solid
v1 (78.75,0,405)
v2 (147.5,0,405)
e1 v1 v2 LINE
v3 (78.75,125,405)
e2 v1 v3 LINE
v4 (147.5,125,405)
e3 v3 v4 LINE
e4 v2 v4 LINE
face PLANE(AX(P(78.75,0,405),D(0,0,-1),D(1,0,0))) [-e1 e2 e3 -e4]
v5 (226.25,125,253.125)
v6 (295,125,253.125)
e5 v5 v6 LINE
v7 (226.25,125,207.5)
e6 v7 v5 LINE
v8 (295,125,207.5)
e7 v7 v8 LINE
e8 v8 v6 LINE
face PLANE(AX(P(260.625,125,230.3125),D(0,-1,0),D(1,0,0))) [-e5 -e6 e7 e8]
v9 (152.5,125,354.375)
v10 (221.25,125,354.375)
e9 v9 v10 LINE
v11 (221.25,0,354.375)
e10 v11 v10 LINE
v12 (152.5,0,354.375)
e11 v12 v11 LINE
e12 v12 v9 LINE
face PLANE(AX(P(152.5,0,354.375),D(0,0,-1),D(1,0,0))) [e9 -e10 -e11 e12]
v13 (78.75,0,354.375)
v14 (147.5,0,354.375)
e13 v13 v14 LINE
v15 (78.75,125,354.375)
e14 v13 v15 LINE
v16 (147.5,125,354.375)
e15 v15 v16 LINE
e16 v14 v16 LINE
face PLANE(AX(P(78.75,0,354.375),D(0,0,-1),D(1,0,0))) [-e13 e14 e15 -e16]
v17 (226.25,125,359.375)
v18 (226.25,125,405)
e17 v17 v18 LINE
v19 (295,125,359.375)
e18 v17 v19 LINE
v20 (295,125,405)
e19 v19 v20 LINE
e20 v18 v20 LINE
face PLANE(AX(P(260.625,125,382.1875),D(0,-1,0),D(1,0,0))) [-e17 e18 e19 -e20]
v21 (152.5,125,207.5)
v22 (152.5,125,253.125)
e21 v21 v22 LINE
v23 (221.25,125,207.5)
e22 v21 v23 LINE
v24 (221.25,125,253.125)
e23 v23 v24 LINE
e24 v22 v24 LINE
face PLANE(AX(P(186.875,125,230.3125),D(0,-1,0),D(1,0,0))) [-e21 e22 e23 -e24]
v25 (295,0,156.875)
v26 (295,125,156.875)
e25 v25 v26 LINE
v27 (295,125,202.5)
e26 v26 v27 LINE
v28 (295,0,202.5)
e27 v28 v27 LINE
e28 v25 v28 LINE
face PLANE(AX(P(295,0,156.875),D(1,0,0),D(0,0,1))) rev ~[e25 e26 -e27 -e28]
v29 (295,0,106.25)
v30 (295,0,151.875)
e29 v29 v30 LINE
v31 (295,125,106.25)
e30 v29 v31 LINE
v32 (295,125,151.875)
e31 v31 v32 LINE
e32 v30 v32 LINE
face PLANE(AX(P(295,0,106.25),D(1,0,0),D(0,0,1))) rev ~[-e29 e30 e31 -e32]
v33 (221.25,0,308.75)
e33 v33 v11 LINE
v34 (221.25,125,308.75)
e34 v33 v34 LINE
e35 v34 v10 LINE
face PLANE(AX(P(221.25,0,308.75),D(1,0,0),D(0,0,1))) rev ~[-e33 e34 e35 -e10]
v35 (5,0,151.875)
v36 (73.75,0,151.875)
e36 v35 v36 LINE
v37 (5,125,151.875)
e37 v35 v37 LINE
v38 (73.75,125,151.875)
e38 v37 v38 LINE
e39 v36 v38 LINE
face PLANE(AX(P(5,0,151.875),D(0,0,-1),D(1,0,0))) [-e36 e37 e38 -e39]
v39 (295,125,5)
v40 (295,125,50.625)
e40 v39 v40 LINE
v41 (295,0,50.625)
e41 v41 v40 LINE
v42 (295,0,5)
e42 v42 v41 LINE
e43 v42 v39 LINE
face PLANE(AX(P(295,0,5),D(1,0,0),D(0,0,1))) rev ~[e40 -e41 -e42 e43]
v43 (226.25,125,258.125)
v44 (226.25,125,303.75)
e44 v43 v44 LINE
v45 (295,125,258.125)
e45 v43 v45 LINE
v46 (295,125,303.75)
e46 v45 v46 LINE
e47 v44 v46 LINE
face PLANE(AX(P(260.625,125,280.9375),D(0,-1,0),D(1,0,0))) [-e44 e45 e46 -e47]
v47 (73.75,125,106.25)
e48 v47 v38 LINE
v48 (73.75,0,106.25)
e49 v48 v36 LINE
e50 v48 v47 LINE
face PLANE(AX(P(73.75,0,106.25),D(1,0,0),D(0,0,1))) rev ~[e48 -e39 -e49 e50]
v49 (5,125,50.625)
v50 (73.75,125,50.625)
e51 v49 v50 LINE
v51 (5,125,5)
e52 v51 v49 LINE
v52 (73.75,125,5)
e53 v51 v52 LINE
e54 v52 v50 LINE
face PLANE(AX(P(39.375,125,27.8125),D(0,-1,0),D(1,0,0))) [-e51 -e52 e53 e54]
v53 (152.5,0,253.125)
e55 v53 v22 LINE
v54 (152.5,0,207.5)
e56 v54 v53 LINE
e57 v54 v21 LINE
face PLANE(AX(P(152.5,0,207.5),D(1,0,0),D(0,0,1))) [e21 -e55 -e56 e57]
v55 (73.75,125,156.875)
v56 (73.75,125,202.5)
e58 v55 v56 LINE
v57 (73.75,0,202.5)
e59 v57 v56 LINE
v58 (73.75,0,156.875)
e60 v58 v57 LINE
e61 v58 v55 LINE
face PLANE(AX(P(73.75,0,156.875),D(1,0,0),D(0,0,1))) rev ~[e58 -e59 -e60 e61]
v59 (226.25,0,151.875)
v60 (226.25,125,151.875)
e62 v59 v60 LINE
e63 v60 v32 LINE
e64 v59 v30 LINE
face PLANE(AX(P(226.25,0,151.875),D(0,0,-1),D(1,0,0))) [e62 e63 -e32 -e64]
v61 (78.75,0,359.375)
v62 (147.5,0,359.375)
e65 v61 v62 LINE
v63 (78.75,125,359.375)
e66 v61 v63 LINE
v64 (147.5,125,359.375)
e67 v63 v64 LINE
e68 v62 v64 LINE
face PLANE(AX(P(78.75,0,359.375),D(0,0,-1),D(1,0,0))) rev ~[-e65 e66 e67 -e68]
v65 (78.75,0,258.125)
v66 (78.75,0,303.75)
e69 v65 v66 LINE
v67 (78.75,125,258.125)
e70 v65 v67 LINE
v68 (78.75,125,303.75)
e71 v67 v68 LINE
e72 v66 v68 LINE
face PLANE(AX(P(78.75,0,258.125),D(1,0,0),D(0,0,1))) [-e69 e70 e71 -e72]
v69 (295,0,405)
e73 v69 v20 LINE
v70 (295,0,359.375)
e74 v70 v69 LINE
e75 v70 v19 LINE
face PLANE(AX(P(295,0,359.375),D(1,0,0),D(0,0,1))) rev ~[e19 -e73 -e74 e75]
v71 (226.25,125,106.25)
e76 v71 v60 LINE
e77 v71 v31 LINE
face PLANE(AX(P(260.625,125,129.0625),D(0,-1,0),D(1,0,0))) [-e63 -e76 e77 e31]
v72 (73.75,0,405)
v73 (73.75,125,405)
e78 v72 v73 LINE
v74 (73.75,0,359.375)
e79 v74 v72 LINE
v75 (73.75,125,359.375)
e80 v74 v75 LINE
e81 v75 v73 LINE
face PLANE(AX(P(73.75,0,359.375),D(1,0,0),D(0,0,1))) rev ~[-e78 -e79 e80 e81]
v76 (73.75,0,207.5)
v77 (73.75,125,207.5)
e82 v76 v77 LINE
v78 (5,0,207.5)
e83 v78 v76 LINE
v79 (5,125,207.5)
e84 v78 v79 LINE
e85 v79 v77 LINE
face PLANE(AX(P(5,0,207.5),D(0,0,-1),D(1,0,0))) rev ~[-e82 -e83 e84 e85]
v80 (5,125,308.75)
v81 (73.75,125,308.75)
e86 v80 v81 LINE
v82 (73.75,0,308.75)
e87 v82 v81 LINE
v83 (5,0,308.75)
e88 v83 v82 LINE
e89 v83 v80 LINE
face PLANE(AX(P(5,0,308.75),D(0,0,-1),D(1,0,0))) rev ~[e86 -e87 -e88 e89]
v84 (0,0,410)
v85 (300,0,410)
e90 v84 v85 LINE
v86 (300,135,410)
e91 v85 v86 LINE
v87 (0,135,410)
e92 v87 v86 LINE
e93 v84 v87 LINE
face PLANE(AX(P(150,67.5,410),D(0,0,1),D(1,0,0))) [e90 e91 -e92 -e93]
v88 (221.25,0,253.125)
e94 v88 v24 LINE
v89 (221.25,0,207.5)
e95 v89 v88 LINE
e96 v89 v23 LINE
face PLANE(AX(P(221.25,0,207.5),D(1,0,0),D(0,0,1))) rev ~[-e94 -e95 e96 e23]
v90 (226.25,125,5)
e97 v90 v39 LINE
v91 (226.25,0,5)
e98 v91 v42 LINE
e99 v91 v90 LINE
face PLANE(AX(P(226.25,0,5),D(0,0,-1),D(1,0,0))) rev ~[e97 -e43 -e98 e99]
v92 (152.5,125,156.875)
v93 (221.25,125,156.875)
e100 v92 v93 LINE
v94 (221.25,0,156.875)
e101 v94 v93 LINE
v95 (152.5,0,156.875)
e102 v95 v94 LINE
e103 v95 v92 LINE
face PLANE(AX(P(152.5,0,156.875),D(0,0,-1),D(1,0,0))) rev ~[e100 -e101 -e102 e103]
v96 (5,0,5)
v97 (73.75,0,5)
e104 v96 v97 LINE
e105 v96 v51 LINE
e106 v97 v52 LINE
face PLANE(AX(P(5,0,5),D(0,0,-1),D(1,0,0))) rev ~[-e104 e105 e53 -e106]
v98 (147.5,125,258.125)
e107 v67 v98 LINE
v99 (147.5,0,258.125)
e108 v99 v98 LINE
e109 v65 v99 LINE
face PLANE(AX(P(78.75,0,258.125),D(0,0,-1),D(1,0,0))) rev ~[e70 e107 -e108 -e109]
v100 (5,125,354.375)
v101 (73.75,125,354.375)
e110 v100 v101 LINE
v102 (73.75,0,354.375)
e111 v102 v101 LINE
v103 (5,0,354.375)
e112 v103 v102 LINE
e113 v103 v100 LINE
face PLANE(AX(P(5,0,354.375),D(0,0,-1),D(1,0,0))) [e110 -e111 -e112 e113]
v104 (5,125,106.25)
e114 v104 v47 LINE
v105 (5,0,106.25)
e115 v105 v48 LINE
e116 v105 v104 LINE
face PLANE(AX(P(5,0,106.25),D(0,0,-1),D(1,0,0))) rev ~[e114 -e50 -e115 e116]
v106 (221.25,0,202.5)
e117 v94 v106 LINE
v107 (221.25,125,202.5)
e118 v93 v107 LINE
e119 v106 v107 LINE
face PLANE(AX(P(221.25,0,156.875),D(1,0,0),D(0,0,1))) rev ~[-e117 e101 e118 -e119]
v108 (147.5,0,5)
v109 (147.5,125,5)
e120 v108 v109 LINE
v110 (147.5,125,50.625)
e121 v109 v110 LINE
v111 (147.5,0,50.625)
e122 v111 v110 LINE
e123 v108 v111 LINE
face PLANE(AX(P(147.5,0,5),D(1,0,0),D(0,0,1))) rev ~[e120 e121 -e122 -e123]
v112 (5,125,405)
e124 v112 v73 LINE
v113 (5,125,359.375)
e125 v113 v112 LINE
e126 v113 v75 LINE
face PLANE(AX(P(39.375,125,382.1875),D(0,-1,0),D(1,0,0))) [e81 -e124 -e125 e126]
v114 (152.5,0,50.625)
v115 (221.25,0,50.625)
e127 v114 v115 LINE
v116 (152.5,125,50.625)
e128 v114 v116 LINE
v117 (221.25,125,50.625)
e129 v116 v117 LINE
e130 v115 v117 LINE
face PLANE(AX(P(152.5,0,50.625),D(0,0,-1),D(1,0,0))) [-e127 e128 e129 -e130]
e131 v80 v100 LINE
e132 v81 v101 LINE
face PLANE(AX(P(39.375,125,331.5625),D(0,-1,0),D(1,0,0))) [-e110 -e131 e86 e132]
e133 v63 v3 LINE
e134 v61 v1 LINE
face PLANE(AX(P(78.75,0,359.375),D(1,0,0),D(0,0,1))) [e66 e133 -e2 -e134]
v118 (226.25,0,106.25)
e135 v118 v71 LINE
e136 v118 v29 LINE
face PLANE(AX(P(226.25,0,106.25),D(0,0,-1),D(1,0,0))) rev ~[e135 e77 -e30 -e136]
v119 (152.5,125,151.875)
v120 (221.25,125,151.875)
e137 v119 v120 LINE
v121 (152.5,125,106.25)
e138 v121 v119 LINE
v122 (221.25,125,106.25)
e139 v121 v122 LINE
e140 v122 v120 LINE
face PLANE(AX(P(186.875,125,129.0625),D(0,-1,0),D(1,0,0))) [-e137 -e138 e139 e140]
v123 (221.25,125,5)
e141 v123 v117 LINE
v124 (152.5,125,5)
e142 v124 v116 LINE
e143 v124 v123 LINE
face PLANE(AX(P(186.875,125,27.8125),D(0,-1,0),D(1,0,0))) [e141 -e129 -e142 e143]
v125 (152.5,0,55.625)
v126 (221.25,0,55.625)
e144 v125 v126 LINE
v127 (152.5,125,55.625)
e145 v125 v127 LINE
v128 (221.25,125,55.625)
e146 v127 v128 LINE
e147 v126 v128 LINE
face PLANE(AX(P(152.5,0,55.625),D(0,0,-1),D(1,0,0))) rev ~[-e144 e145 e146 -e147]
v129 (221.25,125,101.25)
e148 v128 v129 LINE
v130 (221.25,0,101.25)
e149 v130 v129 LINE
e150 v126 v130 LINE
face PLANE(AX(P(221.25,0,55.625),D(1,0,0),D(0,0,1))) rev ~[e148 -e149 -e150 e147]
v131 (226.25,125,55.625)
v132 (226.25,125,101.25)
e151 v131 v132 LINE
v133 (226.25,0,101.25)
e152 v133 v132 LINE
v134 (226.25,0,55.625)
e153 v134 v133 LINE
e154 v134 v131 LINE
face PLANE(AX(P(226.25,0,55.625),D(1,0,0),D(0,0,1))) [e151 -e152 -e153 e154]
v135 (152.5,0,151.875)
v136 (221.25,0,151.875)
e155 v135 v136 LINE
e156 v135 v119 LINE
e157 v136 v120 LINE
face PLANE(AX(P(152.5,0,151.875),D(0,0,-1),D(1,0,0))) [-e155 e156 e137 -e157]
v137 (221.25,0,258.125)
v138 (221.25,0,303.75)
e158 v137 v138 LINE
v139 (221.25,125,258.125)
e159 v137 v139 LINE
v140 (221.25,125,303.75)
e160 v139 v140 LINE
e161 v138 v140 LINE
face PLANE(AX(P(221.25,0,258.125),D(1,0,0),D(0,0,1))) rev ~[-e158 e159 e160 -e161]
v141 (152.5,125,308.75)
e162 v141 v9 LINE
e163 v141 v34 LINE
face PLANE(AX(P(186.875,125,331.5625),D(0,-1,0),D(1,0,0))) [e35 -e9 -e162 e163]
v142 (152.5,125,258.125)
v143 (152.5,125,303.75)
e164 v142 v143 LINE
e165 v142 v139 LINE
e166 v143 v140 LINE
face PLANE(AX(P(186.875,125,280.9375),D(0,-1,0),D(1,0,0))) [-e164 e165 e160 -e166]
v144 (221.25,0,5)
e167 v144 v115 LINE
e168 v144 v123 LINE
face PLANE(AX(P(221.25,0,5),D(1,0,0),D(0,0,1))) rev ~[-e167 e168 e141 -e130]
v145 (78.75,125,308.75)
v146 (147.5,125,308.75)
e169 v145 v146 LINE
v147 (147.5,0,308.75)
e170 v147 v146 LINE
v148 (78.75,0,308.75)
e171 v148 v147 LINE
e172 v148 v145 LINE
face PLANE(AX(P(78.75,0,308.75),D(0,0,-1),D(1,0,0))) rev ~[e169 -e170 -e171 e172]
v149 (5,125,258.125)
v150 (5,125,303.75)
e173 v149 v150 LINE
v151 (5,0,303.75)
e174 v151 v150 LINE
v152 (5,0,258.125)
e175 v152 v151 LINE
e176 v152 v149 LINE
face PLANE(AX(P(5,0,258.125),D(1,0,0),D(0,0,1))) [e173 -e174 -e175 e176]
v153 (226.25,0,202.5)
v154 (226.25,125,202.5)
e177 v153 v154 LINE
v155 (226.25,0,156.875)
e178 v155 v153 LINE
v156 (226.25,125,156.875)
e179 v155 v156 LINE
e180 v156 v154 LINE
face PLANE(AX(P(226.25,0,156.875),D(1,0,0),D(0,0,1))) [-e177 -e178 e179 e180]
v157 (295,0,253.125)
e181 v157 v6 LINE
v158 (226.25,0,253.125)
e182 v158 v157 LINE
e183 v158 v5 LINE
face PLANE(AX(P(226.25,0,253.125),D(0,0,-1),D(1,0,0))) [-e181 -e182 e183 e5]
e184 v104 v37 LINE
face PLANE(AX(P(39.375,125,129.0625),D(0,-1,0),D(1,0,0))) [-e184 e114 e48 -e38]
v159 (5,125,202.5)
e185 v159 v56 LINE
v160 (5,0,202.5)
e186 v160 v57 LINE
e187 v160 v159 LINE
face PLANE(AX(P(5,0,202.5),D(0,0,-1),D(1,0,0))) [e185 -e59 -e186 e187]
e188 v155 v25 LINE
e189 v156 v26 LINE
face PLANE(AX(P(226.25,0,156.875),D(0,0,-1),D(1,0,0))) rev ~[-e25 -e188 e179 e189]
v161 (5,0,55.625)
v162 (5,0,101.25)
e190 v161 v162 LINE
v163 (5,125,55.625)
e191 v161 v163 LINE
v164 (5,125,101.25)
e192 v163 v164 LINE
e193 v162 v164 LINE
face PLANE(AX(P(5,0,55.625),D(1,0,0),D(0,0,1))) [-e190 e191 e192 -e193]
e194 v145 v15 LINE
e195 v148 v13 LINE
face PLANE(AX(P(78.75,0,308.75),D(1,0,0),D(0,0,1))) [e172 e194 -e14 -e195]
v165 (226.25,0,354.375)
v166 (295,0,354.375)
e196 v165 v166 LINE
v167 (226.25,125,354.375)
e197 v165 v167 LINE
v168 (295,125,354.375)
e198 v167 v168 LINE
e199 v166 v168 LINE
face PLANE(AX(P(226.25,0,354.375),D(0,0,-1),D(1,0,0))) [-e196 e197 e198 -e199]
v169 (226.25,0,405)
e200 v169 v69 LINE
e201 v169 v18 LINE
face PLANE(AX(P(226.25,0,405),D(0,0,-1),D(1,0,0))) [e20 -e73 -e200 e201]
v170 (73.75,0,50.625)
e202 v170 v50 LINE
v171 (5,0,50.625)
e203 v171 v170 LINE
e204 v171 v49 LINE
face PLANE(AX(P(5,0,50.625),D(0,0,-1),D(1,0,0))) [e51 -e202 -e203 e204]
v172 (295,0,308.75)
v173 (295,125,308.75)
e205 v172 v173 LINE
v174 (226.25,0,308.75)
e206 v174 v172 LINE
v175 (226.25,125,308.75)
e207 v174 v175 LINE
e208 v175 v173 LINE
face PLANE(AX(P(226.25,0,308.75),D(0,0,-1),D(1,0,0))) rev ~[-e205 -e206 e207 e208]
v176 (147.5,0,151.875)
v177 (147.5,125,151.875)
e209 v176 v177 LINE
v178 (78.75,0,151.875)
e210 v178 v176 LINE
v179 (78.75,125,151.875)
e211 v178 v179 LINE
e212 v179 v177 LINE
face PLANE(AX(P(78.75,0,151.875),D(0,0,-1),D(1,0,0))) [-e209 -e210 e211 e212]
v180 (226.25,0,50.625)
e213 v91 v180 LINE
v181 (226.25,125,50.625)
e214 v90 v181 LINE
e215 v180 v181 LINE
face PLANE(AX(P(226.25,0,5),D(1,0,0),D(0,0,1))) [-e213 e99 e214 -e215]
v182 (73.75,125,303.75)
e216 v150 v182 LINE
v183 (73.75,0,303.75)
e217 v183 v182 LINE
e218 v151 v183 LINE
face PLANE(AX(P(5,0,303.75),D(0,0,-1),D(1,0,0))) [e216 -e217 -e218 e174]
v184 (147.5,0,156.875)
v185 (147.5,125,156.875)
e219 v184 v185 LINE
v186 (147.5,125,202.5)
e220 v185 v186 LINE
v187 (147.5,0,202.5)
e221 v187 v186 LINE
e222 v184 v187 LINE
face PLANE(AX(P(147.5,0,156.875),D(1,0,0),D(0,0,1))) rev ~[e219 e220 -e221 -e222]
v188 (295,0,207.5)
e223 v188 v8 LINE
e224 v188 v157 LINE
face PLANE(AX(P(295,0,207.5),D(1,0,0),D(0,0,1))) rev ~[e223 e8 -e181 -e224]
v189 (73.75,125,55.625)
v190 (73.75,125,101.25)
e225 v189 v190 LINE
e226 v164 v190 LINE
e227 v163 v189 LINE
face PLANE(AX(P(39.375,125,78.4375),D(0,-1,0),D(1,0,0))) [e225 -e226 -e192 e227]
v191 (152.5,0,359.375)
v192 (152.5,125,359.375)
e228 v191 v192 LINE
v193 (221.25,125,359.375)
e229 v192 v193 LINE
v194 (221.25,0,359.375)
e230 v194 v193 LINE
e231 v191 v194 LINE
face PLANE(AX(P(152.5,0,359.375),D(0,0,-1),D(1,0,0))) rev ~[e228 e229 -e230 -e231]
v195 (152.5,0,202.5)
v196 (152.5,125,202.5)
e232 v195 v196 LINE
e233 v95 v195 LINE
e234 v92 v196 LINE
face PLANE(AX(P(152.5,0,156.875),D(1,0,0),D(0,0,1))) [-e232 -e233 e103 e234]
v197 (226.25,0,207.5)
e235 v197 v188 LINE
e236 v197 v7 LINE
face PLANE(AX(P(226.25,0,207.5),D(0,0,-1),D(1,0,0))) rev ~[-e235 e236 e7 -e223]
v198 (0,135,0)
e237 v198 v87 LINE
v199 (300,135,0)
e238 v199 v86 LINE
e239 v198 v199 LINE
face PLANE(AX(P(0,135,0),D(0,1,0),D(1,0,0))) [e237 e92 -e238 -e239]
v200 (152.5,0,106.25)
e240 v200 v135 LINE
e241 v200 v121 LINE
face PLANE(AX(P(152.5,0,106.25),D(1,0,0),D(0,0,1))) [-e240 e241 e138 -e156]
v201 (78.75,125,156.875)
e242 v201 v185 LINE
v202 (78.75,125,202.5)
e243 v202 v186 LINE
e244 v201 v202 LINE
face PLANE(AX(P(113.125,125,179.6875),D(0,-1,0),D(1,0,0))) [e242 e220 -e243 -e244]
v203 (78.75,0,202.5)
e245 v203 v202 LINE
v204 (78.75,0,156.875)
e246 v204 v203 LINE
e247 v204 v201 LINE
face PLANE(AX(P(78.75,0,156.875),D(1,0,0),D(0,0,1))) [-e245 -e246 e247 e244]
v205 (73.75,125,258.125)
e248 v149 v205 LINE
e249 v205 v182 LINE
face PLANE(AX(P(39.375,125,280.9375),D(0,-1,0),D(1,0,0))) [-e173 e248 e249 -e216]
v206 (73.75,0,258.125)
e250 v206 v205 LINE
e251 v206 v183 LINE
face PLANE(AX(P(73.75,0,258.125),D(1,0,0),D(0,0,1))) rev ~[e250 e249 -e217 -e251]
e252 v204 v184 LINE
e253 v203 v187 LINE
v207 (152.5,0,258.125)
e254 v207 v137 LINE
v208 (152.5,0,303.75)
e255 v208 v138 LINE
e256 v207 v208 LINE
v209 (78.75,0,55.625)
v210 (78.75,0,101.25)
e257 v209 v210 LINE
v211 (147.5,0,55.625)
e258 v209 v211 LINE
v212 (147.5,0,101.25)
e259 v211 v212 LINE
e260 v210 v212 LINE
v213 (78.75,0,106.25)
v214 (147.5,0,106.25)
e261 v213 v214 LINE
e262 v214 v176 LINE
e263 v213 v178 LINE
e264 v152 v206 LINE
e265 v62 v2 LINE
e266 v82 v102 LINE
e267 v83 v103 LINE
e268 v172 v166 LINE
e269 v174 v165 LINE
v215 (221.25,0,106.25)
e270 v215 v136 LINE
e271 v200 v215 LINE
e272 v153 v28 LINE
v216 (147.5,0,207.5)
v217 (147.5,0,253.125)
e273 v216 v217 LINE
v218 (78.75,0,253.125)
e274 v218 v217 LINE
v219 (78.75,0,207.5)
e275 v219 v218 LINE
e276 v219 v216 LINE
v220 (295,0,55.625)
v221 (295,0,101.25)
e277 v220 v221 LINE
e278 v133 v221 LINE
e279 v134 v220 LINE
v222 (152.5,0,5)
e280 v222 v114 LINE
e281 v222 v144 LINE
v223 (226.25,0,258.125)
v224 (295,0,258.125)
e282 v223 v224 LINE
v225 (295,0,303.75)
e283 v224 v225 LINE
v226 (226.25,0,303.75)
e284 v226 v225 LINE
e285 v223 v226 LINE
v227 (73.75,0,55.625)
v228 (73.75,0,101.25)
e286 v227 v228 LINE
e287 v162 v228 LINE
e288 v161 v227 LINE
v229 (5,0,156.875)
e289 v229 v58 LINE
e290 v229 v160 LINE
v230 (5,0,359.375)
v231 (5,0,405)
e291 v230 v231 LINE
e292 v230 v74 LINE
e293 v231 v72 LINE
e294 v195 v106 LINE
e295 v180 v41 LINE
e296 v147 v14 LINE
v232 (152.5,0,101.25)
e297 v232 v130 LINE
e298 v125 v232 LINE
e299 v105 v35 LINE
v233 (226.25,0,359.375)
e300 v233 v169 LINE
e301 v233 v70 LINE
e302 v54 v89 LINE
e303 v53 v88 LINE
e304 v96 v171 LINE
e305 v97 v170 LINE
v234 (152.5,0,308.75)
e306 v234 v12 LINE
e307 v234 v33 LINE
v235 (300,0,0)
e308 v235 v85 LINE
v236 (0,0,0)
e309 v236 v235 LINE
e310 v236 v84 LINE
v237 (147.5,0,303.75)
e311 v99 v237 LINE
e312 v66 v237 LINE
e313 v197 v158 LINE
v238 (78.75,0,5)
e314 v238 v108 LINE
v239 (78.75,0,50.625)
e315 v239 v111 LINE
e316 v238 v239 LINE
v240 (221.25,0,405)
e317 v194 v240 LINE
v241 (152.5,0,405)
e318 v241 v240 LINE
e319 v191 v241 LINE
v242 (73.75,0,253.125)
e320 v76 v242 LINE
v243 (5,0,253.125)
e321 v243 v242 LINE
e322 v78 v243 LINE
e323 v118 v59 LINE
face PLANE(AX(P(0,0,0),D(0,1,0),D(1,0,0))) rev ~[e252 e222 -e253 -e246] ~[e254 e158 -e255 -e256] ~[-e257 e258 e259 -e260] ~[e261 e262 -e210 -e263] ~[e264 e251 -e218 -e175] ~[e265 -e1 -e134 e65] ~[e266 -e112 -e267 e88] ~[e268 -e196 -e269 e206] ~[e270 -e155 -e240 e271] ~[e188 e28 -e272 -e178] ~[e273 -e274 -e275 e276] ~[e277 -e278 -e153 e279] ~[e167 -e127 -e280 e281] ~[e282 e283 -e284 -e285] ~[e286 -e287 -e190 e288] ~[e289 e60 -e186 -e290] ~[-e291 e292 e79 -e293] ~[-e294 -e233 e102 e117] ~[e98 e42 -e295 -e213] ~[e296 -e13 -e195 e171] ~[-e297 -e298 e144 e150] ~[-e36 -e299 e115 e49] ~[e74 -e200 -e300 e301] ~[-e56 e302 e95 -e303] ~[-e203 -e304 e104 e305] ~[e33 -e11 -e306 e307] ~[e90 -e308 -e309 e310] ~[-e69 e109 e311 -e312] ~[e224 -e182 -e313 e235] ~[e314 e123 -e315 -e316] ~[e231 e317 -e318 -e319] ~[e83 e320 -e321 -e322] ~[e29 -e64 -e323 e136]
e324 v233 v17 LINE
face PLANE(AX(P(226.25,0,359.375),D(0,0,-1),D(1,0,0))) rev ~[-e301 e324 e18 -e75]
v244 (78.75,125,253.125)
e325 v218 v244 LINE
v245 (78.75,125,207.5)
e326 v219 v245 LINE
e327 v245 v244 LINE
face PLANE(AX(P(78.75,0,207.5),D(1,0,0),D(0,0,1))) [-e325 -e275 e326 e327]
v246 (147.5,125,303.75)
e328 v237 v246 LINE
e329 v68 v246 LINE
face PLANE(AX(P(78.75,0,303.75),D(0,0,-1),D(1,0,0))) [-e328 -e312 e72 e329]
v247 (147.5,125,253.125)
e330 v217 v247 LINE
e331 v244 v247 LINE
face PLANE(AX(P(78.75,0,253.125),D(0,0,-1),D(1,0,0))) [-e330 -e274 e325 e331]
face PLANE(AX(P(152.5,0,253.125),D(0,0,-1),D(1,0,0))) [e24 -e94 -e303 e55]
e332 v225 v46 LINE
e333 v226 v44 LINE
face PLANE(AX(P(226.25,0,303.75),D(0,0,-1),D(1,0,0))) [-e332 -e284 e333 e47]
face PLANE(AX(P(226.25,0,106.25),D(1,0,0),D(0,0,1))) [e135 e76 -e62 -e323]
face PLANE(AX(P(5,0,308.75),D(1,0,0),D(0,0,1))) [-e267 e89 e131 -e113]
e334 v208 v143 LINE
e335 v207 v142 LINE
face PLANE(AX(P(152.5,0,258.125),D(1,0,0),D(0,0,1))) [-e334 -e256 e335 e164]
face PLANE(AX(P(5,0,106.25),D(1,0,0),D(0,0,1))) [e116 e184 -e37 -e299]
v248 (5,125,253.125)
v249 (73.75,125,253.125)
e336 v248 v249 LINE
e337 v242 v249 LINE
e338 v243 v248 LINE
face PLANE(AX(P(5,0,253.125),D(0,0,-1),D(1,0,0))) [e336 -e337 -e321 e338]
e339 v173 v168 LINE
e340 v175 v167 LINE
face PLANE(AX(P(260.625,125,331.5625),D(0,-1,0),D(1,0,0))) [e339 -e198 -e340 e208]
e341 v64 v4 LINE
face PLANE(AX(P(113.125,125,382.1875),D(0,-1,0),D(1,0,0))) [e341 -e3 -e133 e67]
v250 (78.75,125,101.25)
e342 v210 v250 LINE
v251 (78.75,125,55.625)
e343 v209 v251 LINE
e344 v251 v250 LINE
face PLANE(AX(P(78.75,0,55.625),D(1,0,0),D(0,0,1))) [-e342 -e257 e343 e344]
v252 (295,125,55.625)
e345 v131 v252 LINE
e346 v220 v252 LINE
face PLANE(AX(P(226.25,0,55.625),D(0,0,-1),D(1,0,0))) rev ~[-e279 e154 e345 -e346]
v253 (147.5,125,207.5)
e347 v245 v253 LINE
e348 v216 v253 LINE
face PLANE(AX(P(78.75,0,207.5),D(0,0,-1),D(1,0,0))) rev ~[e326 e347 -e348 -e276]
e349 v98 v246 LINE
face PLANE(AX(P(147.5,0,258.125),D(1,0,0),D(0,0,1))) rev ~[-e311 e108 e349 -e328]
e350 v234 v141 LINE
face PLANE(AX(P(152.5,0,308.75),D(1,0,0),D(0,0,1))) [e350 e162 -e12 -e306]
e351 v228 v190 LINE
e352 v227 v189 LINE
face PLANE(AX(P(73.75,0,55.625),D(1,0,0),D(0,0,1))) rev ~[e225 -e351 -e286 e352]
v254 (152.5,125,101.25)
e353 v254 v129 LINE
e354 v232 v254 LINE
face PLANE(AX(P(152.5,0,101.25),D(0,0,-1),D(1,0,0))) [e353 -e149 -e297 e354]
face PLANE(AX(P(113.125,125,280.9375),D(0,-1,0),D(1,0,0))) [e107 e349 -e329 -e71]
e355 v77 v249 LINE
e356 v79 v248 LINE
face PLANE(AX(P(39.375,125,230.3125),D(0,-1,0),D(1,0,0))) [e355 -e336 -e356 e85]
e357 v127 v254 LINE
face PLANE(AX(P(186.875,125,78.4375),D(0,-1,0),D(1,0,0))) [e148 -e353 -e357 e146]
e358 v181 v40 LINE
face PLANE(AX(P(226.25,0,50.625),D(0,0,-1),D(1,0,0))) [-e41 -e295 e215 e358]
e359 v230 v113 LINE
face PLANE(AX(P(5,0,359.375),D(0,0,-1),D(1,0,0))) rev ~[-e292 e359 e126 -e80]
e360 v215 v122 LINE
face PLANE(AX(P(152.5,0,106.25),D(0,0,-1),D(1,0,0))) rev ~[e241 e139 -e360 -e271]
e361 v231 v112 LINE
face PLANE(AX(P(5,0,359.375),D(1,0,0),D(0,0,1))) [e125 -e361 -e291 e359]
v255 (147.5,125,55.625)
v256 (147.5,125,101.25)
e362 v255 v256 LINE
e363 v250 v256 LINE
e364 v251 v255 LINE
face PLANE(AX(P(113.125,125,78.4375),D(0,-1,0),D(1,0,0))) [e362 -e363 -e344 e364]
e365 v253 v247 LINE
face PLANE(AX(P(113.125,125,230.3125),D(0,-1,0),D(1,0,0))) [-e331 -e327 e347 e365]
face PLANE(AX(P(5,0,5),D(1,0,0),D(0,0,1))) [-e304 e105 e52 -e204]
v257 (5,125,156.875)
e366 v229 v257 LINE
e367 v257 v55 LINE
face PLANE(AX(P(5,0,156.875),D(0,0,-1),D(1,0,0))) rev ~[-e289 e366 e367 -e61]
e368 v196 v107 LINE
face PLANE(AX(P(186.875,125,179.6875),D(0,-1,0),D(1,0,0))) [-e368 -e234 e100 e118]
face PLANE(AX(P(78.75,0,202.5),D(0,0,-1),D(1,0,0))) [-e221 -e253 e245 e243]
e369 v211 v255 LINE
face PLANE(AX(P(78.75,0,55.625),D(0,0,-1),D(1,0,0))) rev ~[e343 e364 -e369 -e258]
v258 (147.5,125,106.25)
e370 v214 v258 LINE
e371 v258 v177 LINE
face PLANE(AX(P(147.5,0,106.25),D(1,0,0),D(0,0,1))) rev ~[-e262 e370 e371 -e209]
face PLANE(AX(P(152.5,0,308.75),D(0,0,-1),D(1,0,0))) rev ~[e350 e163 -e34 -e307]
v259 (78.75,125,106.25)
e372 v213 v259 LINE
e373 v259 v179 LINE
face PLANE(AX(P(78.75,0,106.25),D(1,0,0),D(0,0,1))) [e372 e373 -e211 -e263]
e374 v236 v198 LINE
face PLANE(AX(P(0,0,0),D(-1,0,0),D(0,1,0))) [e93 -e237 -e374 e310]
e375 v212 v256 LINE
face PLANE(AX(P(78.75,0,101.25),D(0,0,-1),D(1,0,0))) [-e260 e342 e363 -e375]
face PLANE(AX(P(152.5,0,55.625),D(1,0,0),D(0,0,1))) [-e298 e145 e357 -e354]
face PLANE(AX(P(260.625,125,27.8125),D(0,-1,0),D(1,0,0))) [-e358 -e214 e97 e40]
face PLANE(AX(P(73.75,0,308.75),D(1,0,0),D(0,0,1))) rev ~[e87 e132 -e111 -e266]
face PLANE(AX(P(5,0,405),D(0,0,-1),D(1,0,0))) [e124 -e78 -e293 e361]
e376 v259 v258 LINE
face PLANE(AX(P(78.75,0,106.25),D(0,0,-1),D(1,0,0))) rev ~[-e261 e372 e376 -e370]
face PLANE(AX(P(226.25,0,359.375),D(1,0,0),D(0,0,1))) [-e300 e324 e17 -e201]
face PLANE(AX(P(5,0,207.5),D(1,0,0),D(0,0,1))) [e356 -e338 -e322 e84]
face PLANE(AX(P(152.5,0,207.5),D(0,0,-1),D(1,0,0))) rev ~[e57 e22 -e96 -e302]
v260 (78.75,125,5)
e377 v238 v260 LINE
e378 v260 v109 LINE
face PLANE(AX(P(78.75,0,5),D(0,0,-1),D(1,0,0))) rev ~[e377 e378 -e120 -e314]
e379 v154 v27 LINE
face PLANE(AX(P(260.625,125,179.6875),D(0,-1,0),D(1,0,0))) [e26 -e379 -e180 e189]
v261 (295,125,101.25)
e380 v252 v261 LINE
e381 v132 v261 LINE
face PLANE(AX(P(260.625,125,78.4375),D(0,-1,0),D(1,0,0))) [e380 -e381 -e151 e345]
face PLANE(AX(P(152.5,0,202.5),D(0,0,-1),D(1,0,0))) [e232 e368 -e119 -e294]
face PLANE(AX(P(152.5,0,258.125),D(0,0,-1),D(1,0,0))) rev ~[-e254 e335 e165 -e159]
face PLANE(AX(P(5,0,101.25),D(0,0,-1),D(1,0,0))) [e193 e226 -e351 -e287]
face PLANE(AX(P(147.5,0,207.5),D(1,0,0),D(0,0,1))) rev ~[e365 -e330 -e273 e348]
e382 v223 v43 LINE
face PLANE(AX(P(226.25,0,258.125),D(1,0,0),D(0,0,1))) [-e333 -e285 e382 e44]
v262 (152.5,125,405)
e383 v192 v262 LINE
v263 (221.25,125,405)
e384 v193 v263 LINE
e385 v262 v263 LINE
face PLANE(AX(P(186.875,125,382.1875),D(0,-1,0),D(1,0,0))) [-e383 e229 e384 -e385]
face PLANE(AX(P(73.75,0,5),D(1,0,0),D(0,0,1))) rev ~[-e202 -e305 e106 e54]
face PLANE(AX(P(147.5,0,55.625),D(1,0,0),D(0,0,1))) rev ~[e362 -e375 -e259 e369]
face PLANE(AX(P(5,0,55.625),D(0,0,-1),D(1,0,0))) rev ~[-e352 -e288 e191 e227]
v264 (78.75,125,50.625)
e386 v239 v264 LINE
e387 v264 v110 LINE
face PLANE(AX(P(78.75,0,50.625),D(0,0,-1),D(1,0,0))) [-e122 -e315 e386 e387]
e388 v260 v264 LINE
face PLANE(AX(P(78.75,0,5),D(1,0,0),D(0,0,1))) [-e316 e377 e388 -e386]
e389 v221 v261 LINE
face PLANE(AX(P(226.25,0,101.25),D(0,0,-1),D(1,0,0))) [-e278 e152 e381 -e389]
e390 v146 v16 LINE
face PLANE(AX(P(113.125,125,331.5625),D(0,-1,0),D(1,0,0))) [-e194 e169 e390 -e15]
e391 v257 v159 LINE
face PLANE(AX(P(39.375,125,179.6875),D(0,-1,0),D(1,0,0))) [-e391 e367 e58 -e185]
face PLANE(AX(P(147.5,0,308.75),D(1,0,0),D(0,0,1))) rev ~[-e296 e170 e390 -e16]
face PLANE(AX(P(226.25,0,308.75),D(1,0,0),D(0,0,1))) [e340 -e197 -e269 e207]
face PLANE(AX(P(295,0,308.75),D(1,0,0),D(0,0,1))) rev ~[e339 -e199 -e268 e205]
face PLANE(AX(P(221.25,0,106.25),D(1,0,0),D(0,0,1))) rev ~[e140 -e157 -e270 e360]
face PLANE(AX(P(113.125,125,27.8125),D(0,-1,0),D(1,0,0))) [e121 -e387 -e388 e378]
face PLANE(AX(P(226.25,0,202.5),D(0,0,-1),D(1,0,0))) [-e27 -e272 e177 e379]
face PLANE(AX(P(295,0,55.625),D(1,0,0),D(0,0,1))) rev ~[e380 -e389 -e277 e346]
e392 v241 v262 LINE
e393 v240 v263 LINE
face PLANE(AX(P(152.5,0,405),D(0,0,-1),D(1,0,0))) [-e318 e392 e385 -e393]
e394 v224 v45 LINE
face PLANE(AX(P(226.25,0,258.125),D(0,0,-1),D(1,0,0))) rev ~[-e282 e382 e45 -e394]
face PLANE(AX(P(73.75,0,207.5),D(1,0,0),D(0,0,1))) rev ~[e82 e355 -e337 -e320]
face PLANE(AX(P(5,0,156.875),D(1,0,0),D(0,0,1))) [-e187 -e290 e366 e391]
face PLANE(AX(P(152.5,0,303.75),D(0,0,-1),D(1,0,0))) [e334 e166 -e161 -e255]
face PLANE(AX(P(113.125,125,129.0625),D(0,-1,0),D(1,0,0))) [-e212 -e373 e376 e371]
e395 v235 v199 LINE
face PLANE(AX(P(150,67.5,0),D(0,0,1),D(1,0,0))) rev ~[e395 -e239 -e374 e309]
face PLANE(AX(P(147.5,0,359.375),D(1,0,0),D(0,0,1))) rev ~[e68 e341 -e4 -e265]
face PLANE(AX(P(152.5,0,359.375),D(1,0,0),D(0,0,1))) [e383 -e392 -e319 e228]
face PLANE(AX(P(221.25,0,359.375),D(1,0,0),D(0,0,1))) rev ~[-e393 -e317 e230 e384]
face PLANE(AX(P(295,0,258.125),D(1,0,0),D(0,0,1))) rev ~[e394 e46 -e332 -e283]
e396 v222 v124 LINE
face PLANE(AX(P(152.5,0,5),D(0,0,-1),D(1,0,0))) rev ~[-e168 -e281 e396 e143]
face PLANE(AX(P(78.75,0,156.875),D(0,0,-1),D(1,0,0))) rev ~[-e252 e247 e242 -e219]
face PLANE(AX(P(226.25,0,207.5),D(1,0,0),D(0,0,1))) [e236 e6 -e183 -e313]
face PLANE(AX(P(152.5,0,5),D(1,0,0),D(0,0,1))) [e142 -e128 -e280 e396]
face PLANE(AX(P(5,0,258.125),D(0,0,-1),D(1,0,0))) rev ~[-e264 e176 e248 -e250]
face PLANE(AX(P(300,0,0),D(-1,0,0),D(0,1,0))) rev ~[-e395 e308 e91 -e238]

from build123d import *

# Parameters (mm, degrees)
F0_W     = 300
F0_H     = 135
F1_DEPTH = 410
F2_W     = 68.75
F2_H     = 45.625
F3_DEPTH = 125


with BuildPart() as f1:
    # F0 (on Top) → F1 (new body)
    with BuildSketch(Plane.XY):
        with Locations((150, 67.5)):
            Rectangle(F0_W, F0_H)
    extrude(amount=F1_DEPTH)

    # F2 (on face) → F3 (cut)
    with BuildSketch(Plane.XZ):
        with Locations((260.625, 230.3125)):
            Rectangle(F2_W, F2_H)
        with Locations((260.625, 280.9375)):
            Rectangle(F2_W, F2_H)
        with Locations((260.625, 331.5625)):
            Rectangle(F2_W, F2_H)
        with Locations((260.625, 382.1875)):
            Rectangle(F2_W, F2_H)
        with Locations((186.875, 382.1875)):
            Rectangle(F2_W, F2_H)
        with Locations((113.125, 382.1875)):
            Rectangle(F2_W, F2_H)
        with Locations((260.625, 179.6875)):
            Rectangle(F2_W, F2_H)
        with Locations((260.625, 129.0625)):
            Rectangle(F2_W, F2_H)
        with Locations((260.625, 78.4375)):
            Rectangle(F2_W, F2_H)
        with Locations((260.625, 27.8125)):
            Rectangle(F2_W, F2_H)
        with Locations((186.875, 27.8125)):
            Rectangle(F2_W, F2_H)
        with Locations((113.125, 27.8125)):
            Rectangle(F2_W, F2_H)
        with Locations((39.375, 27.8125)):
            Rectangle(F2_W, F2_H)
        with Locations((39.375, 78.4375)):
            Rectangle(F2_W, F2_H)
        with Locations((39.375, 129.0625)):
            Rectangle(F2_W, F2_H)
        with Locations((39.375, 179.6875)):
            Rectangle(F2_W, F2_H)
        with Locations((39.375, 230.3125)):
            Rectangle(F2_W, F2_H)
        with Locations((39.375, 280.9375)):
            Rectangle(F2_W, F2_H)
        with Locations((39.375, 331.5625)):
            Rectangle(F2_W, F2_H)
        with Locations((39.375, 382.1875)):
            Rectangle(F2_W, F2_H)
        with Locations((113.125, 331.5625)):
            Rectangle(F2_W, F2_H)
        with Locations((113.125, 280.9375)):
            Rectangle(F2_W, F2_H)
        with Locations((113.125, 230.3125)):
            Rectangle(F2_W, F2_H)
        with Locations((186.875, 331.5625)):
            Rectangle(F2_W, F2_H)
        with Locations((186.875, 280.9375)):
            Rectangle(F2_W, F2_H)
        with Locations((186.875, 230.3125)):
            Rectangle(F2_W, F2_H)
        with Locations((186.875, 78.4375)):
            Rectangle(F2_W, F2_H)
        with Locations((113.125, 78.4375)):
            Rectangle(F2_W, F2_H)
        with Locations((113.125, 129.0625)):
            Rectangle(F2_W, F2_H)
        with Locations((186.875, 129.0625)):
            Rectangle(F2_W, F2_H)
        with Locations((113.125, 179.6875)):
            Rectangle(F2_W, F2_H)
        with Locations((186.875, 179.6875)):
            Rectangle(F2_W, F2_H)
    extrude(amount=-F3_DEPTH, mode=Mode.SUBTRACT)


solid = f1.part
